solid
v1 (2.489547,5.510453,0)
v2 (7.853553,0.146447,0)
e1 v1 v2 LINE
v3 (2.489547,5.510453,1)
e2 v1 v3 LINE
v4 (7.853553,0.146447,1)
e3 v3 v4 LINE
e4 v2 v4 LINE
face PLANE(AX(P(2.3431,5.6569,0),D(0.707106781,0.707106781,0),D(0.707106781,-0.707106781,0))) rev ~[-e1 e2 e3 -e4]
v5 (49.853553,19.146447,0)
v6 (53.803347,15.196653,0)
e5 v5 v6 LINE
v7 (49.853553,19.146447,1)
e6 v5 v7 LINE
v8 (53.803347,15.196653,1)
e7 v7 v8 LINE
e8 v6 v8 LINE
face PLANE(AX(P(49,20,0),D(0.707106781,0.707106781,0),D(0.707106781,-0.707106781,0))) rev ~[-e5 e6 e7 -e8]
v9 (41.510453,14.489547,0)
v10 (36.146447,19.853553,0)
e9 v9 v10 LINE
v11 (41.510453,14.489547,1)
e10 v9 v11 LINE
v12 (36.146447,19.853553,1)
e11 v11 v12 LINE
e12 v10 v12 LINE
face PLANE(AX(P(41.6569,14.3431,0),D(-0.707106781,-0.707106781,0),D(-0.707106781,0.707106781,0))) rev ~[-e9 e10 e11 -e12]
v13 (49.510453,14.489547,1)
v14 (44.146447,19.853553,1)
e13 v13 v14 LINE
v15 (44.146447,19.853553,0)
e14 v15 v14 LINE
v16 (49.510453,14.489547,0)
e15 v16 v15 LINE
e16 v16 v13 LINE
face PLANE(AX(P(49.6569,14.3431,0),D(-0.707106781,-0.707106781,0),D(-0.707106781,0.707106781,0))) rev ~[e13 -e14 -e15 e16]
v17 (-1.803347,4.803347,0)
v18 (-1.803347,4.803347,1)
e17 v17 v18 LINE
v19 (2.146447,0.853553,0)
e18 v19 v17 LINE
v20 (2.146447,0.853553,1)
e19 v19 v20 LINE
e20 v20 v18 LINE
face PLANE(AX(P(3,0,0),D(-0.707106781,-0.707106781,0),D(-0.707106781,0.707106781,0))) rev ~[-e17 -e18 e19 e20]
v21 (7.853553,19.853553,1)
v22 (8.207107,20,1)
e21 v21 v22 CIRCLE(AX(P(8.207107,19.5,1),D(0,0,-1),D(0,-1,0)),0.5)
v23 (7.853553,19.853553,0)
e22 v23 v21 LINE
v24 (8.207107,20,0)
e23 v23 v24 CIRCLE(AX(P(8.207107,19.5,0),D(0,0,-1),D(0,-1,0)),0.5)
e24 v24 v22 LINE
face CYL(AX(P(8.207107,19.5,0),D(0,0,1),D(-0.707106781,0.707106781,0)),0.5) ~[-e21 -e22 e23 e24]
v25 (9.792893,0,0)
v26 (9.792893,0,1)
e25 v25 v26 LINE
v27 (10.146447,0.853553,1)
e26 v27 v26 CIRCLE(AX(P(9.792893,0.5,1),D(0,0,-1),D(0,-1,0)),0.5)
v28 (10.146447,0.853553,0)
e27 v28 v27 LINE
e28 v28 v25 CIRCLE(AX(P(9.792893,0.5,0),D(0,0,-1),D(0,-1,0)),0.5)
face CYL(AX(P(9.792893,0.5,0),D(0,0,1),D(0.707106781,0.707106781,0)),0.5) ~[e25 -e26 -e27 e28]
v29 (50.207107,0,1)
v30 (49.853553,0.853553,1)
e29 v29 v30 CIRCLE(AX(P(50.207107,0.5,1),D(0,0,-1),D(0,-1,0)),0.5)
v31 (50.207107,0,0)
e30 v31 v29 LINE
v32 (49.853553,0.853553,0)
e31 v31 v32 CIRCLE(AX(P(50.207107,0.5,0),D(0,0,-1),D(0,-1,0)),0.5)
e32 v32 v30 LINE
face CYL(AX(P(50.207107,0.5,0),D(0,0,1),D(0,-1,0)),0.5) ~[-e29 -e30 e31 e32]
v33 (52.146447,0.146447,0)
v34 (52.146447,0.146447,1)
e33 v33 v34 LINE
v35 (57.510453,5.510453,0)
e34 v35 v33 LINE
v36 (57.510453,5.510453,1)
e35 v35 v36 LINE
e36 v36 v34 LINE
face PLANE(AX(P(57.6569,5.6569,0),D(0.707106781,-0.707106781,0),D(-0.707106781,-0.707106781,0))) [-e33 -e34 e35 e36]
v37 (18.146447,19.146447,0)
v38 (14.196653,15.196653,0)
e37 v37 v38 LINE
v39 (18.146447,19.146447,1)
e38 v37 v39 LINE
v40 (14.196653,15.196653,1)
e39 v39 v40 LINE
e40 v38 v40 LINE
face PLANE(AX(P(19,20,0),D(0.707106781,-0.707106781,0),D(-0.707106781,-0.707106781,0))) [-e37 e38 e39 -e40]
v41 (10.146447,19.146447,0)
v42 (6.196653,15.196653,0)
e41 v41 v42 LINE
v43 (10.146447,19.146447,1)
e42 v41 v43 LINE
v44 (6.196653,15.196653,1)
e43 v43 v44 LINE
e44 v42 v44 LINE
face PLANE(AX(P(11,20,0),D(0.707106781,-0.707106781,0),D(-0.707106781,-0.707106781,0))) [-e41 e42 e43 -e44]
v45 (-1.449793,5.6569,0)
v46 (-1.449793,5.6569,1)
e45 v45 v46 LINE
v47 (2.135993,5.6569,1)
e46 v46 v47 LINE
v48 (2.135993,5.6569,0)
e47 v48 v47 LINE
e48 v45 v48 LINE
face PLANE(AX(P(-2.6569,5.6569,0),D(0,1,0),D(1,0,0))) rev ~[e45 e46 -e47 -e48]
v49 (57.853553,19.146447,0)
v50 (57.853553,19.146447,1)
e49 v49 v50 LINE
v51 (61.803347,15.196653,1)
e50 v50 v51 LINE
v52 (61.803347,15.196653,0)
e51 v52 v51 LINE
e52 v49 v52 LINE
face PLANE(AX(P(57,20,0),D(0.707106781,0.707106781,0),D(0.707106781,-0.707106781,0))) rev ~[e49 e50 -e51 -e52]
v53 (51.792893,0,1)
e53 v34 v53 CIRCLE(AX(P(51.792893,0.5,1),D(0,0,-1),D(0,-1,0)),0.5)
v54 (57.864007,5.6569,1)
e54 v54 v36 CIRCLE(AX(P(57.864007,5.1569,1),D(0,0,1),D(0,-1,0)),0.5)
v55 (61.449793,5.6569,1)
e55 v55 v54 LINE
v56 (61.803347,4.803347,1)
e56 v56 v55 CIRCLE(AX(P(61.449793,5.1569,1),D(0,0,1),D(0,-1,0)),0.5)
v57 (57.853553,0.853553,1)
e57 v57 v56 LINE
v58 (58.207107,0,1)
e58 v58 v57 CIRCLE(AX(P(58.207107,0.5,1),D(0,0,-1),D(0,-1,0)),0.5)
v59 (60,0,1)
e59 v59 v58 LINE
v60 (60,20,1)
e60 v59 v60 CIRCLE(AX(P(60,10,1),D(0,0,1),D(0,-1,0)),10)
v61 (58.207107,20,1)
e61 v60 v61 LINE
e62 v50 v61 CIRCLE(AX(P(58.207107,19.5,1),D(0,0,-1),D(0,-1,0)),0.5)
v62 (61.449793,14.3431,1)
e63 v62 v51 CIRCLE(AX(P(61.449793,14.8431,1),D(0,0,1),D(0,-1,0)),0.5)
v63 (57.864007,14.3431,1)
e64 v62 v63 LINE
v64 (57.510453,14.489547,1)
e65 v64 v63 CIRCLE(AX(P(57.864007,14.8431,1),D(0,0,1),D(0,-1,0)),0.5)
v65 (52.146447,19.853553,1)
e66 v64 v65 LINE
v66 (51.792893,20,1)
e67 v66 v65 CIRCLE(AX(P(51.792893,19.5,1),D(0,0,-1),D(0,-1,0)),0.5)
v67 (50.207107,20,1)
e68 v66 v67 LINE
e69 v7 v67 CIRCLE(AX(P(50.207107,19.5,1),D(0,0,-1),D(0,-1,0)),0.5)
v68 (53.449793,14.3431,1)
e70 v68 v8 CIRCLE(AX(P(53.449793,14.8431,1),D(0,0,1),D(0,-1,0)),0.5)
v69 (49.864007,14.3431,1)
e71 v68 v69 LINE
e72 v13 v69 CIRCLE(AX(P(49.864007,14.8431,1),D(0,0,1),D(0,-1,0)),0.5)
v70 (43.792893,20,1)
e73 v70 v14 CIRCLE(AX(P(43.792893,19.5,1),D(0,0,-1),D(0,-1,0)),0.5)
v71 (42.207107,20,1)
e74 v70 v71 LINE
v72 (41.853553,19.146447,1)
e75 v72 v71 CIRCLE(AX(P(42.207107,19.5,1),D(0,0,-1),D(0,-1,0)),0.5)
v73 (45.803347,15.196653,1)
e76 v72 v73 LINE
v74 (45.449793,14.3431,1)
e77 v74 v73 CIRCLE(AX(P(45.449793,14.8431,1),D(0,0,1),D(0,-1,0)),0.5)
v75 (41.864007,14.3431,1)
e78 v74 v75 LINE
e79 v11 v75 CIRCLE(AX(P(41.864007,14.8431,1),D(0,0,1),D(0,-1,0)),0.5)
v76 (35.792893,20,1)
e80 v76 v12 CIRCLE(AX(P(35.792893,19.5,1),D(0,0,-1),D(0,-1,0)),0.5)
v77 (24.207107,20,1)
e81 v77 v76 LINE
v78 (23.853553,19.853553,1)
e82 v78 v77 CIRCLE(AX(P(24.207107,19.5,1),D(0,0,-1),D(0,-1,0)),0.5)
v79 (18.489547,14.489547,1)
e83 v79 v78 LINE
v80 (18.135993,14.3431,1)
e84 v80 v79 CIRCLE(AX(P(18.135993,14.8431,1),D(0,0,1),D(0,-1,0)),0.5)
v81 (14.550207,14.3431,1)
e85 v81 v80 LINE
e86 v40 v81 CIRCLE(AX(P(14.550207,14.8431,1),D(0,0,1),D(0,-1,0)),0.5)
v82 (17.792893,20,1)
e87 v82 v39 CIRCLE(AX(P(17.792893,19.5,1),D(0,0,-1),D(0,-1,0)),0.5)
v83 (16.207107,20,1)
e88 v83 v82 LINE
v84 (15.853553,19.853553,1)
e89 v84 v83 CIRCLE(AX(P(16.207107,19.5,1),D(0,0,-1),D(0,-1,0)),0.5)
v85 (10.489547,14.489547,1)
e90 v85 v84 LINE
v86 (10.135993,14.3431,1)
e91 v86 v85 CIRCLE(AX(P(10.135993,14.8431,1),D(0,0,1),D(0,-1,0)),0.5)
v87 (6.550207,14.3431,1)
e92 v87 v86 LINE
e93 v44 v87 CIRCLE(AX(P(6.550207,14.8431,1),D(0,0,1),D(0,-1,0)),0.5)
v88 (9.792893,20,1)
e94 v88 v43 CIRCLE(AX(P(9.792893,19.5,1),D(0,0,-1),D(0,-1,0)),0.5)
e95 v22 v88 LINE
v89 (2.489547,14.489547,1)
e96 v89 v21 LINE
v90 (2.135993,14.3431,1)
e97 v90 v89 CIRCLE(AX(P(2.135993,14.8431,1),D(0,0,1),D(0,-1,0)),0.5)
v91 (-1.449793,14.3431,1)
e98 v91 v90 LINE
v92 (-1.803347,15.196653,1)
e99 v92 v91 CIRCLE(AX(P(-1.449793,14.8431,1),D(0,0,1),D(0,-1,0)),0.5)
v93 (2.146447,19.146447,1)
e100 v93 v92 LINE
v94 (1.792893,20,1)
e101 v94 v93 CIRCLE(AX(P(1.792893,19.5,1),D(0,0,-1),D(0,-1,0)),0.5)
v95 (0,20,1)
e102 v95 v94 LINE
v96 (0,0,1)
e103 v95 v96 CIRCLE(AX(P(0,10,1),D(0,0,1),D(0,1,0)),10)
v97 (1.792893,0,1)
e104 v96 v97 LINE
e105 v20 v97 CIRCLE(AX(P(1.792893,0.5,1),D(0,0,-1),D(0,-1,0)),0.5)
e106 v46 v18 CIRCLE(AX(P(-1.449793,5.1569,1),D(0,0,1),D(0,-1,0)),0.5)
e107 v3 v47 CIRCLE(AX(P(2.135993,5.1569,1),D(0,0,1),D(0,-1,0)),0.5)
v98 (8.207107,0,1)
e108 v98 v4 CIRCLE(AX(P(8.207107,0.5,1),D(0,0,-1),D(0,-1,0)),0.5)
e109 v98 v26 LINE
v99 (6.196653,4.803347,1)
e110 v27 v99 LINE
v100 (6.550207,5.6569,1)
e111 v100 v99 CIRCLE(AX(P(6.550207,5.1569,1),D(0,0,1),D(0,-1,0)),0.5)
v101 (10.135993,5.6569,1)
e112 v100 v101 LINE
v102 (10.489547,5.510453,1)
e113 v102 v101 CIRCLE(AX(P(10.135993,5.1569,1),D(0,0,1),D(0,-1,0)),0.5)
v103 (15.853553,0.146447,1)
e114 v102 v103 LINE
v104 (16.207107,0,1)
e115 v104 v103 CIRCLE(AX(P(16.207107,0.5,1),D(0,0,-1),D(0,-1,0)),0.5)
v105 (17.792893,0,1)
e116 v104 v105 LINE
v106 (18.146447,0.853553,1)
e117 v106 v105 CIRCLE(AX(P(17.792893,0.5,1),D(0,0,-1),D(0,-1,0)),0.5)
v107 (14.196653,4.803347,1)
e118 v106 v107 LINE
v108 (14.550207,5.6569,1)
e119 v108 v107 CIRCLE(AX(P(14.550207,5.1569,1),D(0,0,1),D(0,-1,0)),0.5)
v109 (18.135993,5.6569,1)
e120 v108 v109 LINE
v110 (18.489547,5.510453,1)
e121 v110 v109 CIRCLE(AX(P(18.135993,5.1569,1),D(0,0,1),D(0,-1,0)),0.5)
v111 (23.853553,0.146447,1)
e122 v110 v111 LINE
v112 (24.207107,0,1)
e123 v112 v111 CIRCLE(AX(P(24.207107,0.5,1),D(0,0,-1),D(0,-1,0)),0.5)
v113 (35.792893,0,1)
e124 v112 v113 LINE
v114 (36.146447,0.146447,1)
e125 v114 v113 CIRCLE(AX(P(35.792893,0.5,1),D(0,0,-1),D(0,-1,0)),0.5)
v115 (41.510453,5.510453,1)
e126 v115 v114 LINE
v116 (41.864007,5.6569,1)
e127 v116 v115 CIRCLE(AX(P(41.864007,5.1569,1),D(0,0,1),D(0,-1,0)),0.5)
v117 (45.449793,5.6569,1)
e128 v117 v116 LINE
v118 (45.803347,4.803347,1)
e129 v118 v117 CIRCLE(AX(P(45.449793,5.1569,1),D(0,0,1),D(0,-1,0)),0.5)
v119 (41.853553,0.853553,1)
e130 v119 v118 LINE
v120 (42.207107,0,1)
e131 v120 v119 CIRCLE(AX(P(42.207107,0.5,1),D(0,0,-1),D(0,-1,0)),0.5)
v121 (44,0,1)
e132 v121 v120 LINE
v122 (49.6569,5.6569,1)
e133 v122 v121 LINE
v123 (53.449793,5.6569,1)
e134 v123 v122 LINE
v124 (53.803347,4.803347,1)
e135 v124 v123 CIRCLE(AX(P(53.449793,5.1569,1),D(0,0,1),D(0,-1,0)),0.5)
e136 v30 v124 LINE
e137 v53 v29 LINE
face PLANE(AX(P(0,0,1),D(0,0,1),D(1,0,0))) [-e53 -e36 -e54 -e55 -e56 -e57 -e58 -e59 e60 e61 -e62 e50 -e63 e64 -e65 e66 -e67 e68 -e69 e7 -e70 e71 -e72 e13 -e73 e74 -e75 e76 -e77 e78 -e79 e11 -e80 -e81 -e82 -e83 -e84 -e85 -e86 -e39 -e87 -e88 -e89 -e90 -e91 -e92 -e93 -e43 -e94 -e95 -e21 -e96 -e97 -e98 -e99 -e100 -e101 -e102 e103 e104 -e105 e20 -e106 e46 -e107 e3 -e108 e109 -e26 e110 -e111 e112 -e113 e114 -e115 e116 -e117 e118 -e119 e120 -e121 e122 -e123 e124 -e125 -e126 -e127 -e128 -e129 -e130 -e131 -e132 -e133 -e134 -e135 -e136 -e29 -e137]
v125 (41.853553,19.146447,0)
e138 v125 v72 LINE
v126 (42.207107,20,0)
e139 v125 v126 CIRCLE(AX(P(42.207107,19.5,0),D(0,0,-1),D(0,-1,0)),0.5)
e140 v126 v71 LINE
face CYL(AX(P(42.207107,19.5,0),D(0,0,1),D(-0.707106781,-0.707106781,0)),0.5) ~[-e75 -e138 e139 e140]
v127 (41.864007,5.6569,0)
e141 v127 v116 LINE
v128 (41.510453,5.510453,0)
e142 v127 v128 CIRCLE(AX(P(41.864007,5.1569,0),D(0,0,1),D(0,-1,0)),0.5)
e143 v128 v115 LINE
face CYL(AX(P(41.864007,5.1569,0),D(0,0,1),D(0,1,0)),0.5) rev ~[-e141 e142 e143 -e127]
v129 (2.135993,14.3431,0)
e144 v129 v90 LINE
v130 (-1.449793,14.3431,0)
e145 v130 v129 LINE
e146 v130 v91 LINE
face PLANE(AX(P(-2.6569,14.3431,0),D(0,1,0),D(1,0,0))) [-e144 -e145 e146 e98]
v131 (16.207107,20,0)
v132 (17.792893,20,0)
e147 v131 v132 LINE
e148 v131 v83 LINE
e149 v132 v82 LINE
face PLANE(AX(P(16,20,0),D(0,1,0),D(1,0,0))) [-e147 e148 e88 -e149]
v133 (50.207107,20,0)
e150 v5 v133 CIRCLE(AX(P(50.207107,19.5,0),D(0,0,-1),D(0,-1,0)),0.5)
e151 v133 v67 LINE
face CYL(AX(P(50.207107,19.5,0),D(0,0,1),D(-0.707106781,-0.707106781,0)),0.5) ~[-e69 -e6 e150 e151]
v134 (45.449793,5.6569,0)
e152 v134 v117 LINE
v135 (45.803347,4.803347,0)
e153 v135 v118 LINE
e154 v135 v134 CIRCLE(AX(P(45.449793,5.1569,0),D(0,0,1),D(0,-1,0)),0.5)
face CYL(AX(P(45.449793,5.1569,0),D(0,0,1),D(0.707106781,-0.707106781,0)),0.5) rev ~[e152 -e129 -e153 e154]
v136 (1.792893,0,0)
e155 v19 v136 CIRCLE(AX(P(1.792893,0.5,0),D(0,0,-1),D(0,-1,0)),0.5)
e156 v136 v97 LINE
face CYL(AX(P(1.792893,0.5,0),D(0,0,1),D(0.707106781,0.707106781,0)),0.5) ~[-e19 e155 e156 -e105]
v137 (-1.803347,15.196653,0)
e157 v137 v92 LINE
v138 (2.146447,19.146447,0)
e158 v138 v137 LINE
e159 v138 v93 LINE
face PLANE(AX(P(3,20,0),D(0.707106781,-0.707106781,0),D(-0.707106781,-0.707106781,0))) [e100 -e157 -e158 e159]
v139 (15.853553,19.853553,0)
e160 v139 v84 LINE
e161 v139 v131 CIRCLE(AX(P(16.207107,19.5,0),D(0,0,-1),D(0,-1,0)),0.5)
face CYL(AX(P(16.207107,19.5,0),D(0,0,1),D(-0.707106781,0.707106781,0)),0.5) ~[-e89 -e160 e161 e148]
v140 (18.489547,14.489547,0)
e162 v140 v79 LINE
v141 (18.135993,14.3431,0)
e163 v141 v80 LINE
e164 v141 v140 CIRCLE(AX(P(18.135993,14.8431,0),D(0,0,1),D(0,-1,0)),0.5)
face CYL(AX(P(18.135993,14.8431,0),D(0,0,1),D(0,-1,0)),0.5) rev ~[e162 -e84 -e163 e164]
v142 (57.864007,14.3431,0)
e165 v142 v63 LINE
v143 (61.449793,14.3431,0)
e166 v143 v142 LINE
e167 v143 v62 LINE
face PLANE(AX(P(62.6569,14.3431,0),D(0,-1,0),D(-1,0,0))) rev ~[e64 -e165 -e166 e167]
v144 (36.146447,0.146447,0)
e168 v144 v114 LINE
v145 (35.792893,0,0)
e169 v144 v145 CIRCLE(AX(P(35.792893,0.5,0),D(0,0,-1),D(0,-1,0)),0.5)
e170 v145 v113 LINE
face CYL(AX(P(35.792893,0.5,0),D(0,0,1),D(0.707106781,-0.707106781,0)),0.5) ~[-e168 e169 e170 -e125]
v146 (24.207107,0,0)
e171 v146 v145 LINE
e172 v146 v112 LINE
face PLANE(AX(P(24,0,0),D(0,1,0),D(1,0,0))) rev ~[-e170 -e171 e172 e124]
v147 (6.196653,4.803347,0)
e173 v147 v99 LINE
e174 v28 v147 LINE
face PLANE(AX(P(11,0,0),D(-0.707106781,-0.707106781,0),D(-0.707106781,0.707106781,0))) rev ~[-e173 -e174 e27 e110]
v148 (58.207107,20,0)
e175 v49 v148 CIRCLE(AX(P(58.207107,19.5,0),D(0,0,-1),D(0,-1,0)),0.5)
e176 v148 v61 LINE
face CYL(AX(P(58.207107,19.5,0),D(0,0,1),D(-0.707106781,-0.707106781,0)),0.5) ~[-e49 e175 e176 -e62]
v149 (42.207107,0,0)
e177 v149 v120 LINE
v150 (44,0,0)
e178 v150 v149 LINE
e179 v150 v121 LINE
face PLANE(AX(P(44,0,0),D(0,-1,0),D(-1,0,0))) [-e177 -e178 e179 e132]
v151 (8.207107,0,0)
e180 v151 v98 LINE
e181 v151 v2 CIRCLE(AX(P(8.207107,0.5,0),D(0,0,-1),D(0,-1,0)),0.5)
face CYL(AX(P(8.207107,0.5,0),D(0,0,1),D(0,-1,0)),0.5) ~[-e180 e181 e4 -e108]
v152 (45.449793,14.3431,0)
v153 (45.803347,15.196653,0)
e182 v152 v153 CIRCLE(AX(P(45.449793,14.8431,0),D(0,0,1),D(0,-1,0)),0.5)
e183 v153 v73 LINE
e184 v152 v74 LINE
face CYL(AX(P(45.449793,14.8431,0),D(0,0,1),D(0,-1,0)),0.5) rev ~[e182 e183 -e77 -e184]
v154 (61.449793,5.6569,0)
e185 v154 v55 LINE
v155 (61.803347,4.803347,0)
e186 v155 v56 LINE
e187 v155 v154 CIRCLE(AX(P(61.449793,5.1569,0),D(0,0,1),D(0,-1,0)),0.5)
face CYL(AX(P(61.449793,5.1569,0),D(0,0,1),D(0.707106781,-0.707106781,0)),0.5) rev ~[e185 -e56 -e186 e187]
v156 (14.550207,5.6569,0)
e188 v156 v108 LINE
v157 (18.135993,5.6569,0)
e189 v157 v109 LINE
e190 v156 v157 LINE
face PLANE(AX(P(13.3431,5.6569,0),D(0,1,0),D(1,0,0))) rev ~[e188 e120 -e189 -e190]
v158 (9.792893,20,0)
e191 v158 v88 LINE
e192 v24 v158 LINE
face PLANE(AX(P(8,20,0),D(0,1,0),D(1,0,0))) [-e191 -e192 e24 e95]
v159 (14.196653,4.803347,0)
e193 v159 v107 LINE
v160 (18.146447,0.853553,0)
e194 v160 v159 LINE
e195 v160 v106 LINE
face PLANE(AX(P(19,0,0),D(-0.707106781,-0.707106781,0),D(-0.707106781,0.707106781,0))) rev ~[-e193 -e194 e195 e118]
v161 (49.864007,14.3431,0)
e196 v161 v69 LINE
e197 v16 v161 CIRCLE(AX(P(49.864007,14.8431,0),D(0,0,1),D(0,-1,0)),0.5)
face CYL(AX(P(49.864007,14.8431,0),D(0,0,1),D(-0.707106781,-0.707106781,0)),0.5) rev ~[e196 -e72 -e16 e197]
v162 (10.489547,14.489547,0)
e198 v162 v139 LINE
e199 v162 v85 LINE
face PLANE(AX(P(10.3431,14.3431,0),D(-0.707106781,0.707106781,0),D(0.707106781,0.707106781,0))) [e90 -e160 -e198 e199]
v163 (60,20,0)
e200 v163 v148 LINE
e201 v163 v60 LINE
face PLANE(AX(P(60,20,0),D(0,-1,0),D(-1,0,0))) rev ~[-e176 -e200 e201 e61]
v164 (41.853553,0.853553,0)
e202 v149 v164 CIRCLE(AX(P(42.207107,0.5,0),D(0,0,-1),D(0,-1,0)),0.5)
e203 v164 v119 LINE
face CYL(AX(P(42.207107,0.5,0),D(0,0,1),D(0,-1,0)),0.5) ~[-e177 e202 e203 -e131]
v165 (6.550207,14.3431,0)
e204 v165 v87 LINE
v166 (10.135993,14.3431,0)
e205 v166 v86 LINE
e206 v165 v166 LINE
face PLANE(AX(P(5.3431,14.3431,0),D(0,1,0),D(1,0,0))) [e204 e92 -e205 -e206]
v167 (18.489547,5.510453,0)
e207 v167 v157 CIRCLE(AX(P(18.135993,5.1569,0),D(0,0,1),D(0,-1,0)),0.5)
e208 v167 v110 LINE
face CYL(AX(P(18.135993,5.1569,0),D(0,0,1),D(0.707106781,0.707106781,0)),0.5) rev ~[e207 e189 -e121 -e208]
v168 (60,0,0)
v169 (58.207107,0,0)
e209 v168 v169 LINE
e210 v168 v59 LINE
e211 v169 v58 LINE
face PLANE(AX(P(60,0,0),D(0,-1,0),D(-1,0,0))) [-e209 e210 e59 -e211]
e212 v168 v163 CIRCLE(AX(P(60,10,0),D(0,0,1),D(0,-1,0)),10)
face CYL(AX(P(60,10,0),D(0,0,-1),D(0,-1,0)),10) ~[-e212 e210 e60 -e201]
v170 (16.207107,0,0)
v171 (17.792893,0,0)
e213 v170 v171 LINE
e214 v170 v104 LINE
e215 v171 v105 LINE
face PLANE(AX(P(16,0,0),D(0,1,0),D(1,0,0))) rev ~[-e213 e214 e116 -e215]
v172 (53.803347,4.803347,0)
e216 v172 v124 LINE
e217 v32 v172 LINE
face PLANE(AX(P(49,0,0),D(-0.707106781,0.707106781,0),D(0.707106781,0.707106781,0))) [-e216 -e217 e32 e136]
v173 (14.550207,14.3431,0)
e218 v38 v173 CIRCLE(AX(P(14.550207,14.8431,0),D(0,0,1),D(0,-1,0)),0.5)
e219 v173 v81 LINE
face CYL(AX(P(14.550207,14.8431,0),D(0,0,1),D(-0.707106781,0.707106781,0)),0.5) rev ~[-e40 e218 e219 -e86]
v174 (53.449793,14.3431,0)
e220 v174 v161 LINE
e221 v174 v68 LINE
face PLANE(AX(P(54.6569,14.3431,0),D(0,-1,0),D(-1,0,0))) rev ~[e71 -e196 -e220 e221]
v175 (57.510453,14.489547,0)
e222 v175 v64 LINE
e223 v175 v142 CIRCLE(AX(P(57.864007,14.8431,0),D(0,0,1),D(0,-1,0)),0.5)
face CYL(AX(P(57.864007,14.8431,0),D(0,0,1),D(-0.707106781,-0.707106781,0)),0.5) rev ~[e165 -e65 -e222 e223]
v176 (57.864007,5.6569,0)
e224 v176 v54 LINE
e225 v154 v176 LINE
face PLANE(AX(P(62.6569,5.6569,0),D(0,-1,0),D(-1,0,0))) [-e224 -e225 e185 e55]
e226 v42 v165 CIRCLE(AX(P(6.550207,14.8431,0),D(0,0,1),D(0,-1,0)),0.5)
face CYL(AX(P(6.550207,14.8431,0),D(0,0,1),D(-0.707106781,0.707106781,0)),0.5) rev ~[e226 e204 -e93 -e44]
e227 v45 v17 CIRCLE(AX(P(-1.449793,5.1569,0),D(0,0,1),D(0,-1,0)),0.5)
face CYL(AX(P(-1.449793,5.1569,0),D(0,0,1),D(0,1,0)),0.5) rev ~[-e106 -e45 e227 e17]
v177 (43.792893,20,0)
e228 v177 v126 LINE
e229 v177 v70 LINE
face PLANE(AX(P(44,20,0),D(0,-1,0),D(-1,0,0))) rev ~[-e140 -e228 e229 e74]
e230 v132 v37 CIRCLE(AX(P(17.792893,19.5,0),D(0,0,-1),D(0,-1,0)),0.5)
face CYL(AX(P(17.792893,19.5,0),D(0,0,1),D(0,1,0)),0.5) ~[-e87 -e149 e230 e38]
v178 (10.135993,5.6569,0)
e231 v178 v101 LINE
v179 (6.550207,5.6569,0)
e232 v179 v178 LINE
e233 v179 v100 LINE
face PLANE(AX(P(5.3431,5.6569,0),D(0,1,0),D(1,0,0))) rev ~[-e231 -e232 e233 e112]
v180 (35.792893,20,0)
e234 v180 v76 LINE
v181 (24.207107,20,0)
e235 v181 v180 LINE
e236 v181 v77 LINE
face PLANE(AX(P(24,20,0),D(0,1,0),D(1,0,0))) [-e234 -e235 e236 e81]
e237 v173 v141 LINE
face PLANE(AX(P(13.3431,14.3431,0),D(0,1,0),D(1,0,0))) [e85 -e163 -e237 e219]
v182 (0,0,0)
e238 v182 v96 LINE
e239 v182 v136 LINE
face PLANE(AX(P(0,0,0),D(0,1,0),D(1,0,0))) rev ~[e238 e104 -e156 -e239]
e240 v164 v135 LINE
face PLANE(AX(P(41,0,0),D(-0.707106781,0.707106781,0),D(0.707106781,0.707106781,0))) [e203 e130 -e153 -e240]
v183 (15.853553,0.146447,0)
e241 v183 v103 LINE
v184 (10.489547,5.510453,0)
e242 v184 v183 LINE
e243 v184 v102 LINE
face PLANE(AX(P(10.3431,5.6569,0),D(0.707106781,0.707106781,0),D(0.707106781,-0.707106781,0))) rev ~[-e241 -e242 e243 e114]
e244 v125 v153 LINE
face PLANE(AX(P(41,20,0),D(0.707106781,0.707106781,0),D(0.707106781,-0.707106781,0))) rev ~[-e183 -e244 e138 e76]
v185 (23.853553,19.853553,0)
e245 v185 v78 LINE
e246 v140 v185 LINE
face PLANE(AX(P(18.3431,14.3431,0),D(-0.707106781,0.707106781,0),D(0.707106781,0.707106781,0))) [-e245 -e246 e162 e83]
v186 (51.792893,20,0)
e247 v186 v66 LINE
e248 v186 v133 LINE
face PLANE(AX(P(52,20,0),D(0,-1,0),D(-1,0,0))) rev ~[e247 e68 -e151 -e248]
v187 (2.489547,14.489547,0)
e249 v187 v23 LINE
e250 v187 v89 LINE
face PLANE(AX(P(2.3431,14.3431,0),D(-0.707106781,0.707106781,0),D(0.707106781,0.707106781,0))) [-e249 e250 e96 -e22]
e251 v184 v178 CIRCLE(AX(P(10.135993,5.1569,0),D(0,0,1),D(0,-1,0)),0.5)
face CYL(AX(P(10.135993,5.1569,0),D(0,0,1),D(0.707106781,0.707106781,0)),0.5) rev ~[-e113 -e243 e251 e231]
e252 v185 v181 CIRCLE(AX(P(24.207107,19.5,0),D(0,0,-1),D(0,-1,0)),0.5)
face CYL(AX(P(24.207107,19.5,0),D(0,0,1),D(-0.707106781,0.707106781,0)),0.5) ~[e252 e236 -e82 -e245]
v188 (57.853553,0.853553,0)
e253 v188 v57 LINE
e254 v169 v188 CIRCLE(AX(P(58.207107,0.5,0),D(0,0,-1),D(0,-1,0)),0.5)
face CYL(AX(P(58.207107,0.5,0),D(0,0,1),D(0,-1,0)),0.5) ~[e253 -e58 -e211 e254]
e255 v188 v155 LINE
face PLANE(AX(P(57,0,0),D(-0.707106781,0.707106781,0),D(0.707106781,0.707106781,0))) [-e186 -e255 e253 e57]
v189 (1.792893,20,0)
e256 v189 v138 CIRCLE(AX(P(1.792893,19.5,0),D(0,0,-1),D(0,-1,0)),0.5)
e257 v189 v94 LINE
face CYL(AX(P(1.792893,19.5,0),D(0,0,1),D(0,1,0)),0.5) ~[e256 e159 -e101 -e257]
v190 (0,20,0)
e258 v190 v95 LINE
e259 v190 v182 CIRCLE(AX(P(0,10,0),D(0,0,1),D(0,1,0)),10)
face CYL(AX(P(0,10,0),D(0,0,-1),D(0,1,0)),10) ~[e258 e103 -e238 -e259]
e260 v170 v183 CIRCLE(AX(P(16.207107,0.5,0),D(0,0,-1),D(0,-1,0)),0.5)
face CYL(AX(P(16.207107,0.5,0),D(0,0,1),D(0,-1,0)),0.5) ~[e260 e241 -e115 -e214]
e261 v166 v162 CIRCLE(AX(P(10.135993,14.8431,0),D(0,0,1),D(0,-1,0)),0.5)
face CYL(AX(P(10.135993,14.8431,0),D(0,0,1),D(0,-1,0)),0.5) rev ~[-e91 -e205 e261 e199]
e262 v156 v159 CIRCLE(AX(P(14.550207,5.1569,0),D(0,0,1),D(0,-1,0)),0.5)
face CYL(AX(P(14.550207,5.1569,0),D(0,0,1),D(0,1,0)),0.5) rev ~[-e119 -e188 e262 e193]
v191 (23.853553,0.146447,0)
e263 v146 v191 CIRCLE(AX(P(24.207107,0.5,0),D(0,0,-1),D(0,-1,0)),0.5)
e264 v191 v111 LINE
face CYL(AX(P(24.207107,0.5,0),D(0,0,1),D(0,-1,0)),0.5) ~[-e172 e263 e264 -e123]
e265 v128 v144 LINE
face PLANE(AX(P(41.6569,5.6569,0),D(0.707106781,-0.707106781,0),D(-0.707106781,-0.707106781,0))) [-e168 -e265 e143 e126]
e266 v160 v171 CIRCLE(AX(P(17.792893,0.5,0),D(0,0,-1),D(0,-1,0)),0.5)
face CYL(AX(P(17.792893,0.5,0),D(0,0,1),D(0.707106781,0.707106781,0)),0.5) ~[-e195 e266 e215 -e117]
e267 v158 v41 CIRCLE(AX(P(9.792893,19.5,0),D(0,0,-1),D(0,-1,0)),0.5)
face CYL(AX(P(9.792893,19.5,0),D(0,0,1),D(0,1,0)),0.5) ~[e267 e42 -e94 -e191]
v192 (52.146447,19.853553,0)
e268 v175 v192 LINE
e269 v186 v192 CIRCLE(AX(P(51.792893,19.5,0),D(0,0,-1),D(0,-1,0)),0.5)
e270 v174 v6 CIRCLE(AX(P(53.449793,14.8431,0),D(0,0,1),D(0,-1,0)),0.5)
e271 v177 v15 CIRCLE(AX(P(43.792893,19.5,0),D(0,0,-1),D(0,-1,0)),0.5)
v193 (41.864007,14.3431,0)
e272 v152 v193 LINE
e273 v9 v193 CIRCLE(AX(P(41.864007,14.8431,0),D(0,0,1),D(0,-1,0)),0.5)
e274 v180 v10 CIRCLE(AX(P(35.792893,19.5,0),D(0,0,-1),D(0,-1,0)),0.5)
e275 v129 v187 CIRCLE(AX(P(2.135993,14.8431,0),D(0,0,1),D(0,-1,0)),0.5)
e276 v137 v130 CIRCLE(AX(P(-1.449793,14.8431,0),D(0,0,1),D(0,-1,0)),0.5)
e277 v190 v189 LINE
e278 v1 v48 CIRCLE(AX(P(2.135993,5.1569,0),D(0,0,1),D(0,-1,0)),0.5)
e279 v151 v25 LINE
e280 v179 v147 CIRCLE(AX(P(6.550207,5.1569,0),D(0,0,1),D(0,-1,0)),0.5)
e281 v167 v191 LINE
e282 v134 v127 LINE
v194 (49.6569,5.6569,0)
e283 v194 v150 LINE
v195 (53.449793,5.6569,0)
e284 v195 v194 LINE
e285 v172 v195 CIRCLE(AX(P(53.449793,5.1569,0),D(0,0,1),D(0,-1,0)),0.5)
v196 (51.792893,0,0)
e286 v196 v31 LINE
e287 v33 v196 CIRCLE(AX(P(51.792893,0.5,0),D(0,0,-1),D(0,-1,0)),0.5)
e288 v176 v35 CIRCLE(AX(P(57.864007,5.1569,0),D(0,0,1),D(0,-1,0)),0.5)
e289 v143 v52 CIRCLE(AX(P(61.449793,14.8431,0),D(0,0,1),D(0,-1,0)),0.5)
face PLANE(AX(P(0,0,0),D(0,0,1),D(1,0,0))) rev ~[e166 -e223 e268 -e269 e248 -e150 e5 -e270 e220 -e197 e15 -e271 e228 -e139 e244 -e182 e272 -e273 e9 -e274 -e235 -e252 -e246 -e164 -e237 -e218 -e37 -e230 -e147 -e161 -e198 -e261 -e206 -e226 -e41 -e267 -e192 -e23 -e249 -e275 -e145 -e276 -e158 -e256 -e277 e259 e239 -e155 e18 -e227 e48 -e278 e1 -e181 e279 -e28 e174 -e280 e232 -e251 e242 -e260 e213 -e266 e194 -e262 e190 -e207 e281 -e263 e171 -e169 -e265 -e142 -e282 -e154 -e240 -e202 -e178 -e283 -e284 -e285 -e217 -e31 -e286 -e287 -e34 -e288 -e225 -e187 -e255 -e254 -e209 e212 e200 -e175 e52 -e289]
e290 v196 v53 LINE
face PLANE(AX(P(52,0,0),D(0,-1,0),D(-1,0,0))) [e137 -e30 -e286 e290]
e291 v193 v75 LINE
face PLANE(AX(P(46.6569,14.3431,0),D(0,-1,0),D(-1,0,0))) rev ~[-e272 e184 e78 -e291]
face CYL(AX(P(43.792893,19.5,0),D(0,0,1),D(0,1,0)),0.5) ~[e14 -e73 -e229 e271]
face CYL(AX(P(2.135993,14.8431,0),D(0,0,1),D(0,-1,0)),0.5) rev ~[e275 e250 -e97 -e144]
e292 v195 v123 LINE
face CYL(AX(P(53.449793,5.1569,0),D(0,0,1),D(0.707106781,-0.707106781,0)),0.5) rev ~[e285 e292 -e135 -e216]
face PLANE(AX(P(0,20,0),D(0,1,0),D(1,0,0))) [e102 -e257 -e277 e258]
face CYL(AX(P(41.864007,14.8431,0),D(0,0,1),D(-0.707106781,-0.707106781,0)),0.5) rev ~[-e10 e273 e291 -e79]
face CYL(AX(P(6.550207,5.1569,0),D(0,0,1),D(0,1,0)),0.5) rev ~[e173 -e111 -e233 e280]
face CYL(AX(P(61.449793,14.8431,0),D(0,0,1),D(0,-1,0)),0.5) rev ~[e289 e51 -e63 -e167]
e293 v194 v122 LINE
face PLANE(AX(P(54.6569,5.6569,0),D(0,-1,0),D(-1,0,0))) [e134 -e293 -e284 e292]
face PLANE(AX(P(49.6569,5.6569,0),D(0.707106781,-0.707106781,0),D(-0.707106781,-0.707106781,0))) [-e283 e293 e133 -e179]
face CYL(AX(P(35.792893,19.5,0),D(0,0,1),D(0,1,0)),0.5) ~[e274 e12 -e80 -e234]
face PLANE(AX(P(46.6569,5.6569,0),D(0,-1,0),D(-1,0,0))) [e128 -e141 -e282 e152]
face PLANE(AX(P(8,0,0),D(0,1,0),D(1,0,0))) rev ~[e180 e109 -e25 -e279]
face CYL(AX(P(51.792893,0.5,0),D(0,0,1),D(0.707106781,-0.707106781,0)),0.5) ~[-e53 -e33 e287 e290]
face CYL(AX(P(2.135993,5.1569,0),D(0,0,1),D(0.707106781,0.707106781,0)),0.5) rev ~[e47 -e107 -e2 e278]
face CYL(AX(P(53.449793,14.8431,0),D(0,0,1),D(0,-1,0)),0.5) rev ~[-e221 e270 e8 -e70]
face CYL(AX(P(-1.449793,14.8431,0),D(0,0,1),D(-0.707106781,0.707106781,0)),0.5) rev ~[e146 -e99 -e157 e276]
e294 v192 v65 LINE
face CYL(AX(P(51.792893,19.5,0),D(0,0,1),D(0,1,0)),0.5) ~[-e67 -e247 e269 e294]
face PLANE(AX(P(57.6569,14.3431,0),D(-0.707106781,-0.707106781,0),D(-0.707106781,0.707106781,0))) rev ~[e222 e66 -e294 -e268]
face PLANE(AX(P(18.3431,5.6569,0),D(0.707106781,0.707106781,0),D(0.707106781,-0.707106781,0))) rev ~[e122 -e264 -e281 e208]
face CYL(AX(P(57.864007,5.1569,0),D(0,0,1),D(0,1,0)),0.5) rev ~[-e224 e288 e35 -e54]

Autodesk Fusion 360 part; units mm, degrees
sketch "Sketch1" plane through (0, 0, 0) normal (0, 0, 1) x (1, 0, 0) in component "mask holder"
  arc A0 (60, 0) -> (60, 20) centre (60, 10) ccw
  arc A1 (0, 20) -> (0, 0) centre (0, 10) ccw
  line L0 (30, -5.2068) -> (30, 28.719) construction
  line L1 (74.7629, 10) -> (-18.5863, 10) construction
  line L2 (60, 20) -> (57, 20)
  line L3 (57, 20) -> (62.6569, 14.3431)
  line L4 (57, 20) -> (62, 20) construction
  line L5 (62.6569, 14.3431) -> (57.6569, 14.3431)
  line L6 (57.6569, 14.3431) -> (52, 20)
  line L7 (52, 20) -> (49, 20)
  line L8 (49, 20) -> (54.6569, 14.3431)
  line L9 (44, 20) -> (41, 20)
  line L10 (54.6569, 14.3431) -> (49.6569, 14.3431)
  line L11 (41, 20) -> (46.6569, 14.3431)
  line L12 (49.6569, 14.3431) -> (44, 20)
  line L13 (46.6569, 14.3431) -> (41.6569, 14.3431)
  line L14 (41.6569, 14.3431) -> (36, 20)
  line L15 (11, 20) -> (5.3431, 14.3431)
  line L16 (19, 20) -> (13.3431, 14.3431)
  line L17 (3, 20) -> (-2, 20) construction
  line L18 (3, 20) -> (-2.6569, 14.3431)
  line L19 (0, 20) -> (3, 20)
  line L20 (5.3431, 14.3431) -> (10.3431, 14.3431)
  line L21 (-2.6569, 14.3431) -> (2.3431, 14.3431)
  line L22 (2.3431, 14.3431) -> (8, 20)
  line L23 (18.3431, 14.3431) -> (24, 20)
  line L24 (13.3431, 14.3431) -> (18.3431, 14.3431)
  line L25 (10.3431, 14.3431) -> (16, 20)
  line L26 (16, 20) -> (19, 20)
  line L27 (8, 20) -> (11, 20)
  line L28 (24, 20) -> (36, 20)
  line L29 (11, 0) -> (5.3431, 5.6569)
  line L30 (41, 0) -> (46.6569, 5.6569)
  line L31 (30, 25.2068) -> (30, -8.719) construction
  line L32 (13.3431, 5.6569) -> (18.3431, 5.6569)
  line L33 (46.6569, 5.6569) -> (41.6569, 5.6569)
  line L34 (5.3431, 5.6569) -> (10.3431, 5.6569)
  line L35 (16, 0) -> (19, 0)
  line L36 (3, 0) -> (-2, 0) construction
  line L37 (3, 0) -> (-2.6569, 5.6569)
  line L38 (10.3431, 5.6569) -> (16, 0)
  line L39 (54.6569, 5.6569) -> (49.6569, 5.6569)
  line L40 (0, 0) -> (3, 0)
  line L41 (19, 0) -> (13.3431, 5.6569)
  line L42 (49.6569, 5.6569) -> (44, 0)
  line L43 (57.6569, 5.6569) -> (52, 0)
  line L44 (49, 0) -> (54.6569, 5.6569)
  line L45 (24, 0) -> (36, 0)
  line L46 (44, 0) -> (41, 0)
  line L47 (18.3431, 5.6569) -> (24, 0)
  line L48 (41.6569, 5.6569) -> (36, 0)
  line L49 (8, 0) -> (11, 0)
  line L50 (57, 0) -> (62, 0) construction
  line L51 (62.6569, 5.6569) -> (57.6569, 5.6569)
  line L52 (60, 0) -> (57, 0)
  line L53 (57, 0) -> (62.6569, 5.6569)
  line L54 (-2.6569, 5.6569) -> (2.3431, 5.6569)
  line L55 (2.3431, 5.6569) -> (8, 0)
  line L56 (52, 0) -> (49, 0)
  point P0 (0, 10)
  point P1 (60, 10)
  point P2 (0, 10)
  point P3 (0, 10)
  dimension "d5" = 20
  dimension "d6" = 60
  dimension "d7" = 3
  dimension "d8" = 8
  dimension "d9" = 45
  dimension "d12" = 5
  dimension "d15" = 8
  dimension "d16" = 3
  dimension "d17" = 8
  dimension "d19" = 5
  dimension "d20" = 8
  dimension "d21" = 3
  dimension "d22" = 8
  dimension "d23" = 5
  dimension "d24" = 8
extrude "Extrude1" add sketch "Sketch1" along normal blind 1
fillet "Fillet1" radius 0.5 46 edges at (57, 0, 0.5) (62.6569, 5.6569, 0.5) (57.6569, 5.6569, 0.5) (52, 0, 0.5) (49, 0, 0.5) (54.6569, 5.6569, 0.5) (46.6569, 5.6569, 0.5) (41, 0, 0.5) (36, 0, 0.5) (41.6569, 5.6569, 0.5) (18.3431, 5.6569, 0.5) (24, 0, 0.5) (13.3431, 5.6569, 0.5) (19, 0, 0.5) (16, 0, 0.5) (5.3431, 5.6569, 0.5) (11, 0, 0.5) (8, 0, 0.5) (3, 0, 0.5) (-2.6569, 5.6569, 0.5) (10.3431, 5.6569, 0.5) (2.3431, 5.6569, 0.5) (2.3431, 14.3431, 0.5) (3, 20, 0.5) (8, 20, 0.5) (10.3431, 14.3431, 0.5) (16, 20, 0.5) (19, 20, 0.5) (18.3431, 14.3431, 0.5) (24, 20, 0.5) (13.3431, 14.3431, 0.5) (5.3431, 14.3431, 0.5) (11, 20, 0.5) (-2.6569, 14.3431, 0.5) (36, 20, 0.5) (41.6569, 14.3431, 0.5) (46.6569, 14.3431, 0.5) (41, 20, 0.5) (44, 20, 0.5) (49.6569, 14.3431, 0.5) (54.6569, 14.3431, 0.5) (49, 20, 0.5) (52, 20, 0.5) (57.6569, 14.3431, 0.5) (62.6569, 14.3431, 0.5) (57, 20, 0.5)
component "mask holder" placed x (1, 0, 0) y (0, 1, 0) z (0, 0, 1) at (0, 0, 0)
equation "length = 80 mm"
equation "width = 20 mm"
equation "thickness = 1 mm"
equation "finalLength = length - width"
equation "d5 = width"
equation "d6 = finalLength"
equation "d7 = L3"
equation "d8 = L"
equation "L = 8 mm"
equation "L2 = 5 mm"
equation "d12 = L2"
equation "L3 = 3 mm"
equation "d15 = L"
equation "d16 = L3"
equation "d17 = L"
equation "d19 = L2"
equation "d20 = L"
equation "d21 = L3"
equation "d22 = L"
equation "d23 = L2"
equation "d24 = L"
